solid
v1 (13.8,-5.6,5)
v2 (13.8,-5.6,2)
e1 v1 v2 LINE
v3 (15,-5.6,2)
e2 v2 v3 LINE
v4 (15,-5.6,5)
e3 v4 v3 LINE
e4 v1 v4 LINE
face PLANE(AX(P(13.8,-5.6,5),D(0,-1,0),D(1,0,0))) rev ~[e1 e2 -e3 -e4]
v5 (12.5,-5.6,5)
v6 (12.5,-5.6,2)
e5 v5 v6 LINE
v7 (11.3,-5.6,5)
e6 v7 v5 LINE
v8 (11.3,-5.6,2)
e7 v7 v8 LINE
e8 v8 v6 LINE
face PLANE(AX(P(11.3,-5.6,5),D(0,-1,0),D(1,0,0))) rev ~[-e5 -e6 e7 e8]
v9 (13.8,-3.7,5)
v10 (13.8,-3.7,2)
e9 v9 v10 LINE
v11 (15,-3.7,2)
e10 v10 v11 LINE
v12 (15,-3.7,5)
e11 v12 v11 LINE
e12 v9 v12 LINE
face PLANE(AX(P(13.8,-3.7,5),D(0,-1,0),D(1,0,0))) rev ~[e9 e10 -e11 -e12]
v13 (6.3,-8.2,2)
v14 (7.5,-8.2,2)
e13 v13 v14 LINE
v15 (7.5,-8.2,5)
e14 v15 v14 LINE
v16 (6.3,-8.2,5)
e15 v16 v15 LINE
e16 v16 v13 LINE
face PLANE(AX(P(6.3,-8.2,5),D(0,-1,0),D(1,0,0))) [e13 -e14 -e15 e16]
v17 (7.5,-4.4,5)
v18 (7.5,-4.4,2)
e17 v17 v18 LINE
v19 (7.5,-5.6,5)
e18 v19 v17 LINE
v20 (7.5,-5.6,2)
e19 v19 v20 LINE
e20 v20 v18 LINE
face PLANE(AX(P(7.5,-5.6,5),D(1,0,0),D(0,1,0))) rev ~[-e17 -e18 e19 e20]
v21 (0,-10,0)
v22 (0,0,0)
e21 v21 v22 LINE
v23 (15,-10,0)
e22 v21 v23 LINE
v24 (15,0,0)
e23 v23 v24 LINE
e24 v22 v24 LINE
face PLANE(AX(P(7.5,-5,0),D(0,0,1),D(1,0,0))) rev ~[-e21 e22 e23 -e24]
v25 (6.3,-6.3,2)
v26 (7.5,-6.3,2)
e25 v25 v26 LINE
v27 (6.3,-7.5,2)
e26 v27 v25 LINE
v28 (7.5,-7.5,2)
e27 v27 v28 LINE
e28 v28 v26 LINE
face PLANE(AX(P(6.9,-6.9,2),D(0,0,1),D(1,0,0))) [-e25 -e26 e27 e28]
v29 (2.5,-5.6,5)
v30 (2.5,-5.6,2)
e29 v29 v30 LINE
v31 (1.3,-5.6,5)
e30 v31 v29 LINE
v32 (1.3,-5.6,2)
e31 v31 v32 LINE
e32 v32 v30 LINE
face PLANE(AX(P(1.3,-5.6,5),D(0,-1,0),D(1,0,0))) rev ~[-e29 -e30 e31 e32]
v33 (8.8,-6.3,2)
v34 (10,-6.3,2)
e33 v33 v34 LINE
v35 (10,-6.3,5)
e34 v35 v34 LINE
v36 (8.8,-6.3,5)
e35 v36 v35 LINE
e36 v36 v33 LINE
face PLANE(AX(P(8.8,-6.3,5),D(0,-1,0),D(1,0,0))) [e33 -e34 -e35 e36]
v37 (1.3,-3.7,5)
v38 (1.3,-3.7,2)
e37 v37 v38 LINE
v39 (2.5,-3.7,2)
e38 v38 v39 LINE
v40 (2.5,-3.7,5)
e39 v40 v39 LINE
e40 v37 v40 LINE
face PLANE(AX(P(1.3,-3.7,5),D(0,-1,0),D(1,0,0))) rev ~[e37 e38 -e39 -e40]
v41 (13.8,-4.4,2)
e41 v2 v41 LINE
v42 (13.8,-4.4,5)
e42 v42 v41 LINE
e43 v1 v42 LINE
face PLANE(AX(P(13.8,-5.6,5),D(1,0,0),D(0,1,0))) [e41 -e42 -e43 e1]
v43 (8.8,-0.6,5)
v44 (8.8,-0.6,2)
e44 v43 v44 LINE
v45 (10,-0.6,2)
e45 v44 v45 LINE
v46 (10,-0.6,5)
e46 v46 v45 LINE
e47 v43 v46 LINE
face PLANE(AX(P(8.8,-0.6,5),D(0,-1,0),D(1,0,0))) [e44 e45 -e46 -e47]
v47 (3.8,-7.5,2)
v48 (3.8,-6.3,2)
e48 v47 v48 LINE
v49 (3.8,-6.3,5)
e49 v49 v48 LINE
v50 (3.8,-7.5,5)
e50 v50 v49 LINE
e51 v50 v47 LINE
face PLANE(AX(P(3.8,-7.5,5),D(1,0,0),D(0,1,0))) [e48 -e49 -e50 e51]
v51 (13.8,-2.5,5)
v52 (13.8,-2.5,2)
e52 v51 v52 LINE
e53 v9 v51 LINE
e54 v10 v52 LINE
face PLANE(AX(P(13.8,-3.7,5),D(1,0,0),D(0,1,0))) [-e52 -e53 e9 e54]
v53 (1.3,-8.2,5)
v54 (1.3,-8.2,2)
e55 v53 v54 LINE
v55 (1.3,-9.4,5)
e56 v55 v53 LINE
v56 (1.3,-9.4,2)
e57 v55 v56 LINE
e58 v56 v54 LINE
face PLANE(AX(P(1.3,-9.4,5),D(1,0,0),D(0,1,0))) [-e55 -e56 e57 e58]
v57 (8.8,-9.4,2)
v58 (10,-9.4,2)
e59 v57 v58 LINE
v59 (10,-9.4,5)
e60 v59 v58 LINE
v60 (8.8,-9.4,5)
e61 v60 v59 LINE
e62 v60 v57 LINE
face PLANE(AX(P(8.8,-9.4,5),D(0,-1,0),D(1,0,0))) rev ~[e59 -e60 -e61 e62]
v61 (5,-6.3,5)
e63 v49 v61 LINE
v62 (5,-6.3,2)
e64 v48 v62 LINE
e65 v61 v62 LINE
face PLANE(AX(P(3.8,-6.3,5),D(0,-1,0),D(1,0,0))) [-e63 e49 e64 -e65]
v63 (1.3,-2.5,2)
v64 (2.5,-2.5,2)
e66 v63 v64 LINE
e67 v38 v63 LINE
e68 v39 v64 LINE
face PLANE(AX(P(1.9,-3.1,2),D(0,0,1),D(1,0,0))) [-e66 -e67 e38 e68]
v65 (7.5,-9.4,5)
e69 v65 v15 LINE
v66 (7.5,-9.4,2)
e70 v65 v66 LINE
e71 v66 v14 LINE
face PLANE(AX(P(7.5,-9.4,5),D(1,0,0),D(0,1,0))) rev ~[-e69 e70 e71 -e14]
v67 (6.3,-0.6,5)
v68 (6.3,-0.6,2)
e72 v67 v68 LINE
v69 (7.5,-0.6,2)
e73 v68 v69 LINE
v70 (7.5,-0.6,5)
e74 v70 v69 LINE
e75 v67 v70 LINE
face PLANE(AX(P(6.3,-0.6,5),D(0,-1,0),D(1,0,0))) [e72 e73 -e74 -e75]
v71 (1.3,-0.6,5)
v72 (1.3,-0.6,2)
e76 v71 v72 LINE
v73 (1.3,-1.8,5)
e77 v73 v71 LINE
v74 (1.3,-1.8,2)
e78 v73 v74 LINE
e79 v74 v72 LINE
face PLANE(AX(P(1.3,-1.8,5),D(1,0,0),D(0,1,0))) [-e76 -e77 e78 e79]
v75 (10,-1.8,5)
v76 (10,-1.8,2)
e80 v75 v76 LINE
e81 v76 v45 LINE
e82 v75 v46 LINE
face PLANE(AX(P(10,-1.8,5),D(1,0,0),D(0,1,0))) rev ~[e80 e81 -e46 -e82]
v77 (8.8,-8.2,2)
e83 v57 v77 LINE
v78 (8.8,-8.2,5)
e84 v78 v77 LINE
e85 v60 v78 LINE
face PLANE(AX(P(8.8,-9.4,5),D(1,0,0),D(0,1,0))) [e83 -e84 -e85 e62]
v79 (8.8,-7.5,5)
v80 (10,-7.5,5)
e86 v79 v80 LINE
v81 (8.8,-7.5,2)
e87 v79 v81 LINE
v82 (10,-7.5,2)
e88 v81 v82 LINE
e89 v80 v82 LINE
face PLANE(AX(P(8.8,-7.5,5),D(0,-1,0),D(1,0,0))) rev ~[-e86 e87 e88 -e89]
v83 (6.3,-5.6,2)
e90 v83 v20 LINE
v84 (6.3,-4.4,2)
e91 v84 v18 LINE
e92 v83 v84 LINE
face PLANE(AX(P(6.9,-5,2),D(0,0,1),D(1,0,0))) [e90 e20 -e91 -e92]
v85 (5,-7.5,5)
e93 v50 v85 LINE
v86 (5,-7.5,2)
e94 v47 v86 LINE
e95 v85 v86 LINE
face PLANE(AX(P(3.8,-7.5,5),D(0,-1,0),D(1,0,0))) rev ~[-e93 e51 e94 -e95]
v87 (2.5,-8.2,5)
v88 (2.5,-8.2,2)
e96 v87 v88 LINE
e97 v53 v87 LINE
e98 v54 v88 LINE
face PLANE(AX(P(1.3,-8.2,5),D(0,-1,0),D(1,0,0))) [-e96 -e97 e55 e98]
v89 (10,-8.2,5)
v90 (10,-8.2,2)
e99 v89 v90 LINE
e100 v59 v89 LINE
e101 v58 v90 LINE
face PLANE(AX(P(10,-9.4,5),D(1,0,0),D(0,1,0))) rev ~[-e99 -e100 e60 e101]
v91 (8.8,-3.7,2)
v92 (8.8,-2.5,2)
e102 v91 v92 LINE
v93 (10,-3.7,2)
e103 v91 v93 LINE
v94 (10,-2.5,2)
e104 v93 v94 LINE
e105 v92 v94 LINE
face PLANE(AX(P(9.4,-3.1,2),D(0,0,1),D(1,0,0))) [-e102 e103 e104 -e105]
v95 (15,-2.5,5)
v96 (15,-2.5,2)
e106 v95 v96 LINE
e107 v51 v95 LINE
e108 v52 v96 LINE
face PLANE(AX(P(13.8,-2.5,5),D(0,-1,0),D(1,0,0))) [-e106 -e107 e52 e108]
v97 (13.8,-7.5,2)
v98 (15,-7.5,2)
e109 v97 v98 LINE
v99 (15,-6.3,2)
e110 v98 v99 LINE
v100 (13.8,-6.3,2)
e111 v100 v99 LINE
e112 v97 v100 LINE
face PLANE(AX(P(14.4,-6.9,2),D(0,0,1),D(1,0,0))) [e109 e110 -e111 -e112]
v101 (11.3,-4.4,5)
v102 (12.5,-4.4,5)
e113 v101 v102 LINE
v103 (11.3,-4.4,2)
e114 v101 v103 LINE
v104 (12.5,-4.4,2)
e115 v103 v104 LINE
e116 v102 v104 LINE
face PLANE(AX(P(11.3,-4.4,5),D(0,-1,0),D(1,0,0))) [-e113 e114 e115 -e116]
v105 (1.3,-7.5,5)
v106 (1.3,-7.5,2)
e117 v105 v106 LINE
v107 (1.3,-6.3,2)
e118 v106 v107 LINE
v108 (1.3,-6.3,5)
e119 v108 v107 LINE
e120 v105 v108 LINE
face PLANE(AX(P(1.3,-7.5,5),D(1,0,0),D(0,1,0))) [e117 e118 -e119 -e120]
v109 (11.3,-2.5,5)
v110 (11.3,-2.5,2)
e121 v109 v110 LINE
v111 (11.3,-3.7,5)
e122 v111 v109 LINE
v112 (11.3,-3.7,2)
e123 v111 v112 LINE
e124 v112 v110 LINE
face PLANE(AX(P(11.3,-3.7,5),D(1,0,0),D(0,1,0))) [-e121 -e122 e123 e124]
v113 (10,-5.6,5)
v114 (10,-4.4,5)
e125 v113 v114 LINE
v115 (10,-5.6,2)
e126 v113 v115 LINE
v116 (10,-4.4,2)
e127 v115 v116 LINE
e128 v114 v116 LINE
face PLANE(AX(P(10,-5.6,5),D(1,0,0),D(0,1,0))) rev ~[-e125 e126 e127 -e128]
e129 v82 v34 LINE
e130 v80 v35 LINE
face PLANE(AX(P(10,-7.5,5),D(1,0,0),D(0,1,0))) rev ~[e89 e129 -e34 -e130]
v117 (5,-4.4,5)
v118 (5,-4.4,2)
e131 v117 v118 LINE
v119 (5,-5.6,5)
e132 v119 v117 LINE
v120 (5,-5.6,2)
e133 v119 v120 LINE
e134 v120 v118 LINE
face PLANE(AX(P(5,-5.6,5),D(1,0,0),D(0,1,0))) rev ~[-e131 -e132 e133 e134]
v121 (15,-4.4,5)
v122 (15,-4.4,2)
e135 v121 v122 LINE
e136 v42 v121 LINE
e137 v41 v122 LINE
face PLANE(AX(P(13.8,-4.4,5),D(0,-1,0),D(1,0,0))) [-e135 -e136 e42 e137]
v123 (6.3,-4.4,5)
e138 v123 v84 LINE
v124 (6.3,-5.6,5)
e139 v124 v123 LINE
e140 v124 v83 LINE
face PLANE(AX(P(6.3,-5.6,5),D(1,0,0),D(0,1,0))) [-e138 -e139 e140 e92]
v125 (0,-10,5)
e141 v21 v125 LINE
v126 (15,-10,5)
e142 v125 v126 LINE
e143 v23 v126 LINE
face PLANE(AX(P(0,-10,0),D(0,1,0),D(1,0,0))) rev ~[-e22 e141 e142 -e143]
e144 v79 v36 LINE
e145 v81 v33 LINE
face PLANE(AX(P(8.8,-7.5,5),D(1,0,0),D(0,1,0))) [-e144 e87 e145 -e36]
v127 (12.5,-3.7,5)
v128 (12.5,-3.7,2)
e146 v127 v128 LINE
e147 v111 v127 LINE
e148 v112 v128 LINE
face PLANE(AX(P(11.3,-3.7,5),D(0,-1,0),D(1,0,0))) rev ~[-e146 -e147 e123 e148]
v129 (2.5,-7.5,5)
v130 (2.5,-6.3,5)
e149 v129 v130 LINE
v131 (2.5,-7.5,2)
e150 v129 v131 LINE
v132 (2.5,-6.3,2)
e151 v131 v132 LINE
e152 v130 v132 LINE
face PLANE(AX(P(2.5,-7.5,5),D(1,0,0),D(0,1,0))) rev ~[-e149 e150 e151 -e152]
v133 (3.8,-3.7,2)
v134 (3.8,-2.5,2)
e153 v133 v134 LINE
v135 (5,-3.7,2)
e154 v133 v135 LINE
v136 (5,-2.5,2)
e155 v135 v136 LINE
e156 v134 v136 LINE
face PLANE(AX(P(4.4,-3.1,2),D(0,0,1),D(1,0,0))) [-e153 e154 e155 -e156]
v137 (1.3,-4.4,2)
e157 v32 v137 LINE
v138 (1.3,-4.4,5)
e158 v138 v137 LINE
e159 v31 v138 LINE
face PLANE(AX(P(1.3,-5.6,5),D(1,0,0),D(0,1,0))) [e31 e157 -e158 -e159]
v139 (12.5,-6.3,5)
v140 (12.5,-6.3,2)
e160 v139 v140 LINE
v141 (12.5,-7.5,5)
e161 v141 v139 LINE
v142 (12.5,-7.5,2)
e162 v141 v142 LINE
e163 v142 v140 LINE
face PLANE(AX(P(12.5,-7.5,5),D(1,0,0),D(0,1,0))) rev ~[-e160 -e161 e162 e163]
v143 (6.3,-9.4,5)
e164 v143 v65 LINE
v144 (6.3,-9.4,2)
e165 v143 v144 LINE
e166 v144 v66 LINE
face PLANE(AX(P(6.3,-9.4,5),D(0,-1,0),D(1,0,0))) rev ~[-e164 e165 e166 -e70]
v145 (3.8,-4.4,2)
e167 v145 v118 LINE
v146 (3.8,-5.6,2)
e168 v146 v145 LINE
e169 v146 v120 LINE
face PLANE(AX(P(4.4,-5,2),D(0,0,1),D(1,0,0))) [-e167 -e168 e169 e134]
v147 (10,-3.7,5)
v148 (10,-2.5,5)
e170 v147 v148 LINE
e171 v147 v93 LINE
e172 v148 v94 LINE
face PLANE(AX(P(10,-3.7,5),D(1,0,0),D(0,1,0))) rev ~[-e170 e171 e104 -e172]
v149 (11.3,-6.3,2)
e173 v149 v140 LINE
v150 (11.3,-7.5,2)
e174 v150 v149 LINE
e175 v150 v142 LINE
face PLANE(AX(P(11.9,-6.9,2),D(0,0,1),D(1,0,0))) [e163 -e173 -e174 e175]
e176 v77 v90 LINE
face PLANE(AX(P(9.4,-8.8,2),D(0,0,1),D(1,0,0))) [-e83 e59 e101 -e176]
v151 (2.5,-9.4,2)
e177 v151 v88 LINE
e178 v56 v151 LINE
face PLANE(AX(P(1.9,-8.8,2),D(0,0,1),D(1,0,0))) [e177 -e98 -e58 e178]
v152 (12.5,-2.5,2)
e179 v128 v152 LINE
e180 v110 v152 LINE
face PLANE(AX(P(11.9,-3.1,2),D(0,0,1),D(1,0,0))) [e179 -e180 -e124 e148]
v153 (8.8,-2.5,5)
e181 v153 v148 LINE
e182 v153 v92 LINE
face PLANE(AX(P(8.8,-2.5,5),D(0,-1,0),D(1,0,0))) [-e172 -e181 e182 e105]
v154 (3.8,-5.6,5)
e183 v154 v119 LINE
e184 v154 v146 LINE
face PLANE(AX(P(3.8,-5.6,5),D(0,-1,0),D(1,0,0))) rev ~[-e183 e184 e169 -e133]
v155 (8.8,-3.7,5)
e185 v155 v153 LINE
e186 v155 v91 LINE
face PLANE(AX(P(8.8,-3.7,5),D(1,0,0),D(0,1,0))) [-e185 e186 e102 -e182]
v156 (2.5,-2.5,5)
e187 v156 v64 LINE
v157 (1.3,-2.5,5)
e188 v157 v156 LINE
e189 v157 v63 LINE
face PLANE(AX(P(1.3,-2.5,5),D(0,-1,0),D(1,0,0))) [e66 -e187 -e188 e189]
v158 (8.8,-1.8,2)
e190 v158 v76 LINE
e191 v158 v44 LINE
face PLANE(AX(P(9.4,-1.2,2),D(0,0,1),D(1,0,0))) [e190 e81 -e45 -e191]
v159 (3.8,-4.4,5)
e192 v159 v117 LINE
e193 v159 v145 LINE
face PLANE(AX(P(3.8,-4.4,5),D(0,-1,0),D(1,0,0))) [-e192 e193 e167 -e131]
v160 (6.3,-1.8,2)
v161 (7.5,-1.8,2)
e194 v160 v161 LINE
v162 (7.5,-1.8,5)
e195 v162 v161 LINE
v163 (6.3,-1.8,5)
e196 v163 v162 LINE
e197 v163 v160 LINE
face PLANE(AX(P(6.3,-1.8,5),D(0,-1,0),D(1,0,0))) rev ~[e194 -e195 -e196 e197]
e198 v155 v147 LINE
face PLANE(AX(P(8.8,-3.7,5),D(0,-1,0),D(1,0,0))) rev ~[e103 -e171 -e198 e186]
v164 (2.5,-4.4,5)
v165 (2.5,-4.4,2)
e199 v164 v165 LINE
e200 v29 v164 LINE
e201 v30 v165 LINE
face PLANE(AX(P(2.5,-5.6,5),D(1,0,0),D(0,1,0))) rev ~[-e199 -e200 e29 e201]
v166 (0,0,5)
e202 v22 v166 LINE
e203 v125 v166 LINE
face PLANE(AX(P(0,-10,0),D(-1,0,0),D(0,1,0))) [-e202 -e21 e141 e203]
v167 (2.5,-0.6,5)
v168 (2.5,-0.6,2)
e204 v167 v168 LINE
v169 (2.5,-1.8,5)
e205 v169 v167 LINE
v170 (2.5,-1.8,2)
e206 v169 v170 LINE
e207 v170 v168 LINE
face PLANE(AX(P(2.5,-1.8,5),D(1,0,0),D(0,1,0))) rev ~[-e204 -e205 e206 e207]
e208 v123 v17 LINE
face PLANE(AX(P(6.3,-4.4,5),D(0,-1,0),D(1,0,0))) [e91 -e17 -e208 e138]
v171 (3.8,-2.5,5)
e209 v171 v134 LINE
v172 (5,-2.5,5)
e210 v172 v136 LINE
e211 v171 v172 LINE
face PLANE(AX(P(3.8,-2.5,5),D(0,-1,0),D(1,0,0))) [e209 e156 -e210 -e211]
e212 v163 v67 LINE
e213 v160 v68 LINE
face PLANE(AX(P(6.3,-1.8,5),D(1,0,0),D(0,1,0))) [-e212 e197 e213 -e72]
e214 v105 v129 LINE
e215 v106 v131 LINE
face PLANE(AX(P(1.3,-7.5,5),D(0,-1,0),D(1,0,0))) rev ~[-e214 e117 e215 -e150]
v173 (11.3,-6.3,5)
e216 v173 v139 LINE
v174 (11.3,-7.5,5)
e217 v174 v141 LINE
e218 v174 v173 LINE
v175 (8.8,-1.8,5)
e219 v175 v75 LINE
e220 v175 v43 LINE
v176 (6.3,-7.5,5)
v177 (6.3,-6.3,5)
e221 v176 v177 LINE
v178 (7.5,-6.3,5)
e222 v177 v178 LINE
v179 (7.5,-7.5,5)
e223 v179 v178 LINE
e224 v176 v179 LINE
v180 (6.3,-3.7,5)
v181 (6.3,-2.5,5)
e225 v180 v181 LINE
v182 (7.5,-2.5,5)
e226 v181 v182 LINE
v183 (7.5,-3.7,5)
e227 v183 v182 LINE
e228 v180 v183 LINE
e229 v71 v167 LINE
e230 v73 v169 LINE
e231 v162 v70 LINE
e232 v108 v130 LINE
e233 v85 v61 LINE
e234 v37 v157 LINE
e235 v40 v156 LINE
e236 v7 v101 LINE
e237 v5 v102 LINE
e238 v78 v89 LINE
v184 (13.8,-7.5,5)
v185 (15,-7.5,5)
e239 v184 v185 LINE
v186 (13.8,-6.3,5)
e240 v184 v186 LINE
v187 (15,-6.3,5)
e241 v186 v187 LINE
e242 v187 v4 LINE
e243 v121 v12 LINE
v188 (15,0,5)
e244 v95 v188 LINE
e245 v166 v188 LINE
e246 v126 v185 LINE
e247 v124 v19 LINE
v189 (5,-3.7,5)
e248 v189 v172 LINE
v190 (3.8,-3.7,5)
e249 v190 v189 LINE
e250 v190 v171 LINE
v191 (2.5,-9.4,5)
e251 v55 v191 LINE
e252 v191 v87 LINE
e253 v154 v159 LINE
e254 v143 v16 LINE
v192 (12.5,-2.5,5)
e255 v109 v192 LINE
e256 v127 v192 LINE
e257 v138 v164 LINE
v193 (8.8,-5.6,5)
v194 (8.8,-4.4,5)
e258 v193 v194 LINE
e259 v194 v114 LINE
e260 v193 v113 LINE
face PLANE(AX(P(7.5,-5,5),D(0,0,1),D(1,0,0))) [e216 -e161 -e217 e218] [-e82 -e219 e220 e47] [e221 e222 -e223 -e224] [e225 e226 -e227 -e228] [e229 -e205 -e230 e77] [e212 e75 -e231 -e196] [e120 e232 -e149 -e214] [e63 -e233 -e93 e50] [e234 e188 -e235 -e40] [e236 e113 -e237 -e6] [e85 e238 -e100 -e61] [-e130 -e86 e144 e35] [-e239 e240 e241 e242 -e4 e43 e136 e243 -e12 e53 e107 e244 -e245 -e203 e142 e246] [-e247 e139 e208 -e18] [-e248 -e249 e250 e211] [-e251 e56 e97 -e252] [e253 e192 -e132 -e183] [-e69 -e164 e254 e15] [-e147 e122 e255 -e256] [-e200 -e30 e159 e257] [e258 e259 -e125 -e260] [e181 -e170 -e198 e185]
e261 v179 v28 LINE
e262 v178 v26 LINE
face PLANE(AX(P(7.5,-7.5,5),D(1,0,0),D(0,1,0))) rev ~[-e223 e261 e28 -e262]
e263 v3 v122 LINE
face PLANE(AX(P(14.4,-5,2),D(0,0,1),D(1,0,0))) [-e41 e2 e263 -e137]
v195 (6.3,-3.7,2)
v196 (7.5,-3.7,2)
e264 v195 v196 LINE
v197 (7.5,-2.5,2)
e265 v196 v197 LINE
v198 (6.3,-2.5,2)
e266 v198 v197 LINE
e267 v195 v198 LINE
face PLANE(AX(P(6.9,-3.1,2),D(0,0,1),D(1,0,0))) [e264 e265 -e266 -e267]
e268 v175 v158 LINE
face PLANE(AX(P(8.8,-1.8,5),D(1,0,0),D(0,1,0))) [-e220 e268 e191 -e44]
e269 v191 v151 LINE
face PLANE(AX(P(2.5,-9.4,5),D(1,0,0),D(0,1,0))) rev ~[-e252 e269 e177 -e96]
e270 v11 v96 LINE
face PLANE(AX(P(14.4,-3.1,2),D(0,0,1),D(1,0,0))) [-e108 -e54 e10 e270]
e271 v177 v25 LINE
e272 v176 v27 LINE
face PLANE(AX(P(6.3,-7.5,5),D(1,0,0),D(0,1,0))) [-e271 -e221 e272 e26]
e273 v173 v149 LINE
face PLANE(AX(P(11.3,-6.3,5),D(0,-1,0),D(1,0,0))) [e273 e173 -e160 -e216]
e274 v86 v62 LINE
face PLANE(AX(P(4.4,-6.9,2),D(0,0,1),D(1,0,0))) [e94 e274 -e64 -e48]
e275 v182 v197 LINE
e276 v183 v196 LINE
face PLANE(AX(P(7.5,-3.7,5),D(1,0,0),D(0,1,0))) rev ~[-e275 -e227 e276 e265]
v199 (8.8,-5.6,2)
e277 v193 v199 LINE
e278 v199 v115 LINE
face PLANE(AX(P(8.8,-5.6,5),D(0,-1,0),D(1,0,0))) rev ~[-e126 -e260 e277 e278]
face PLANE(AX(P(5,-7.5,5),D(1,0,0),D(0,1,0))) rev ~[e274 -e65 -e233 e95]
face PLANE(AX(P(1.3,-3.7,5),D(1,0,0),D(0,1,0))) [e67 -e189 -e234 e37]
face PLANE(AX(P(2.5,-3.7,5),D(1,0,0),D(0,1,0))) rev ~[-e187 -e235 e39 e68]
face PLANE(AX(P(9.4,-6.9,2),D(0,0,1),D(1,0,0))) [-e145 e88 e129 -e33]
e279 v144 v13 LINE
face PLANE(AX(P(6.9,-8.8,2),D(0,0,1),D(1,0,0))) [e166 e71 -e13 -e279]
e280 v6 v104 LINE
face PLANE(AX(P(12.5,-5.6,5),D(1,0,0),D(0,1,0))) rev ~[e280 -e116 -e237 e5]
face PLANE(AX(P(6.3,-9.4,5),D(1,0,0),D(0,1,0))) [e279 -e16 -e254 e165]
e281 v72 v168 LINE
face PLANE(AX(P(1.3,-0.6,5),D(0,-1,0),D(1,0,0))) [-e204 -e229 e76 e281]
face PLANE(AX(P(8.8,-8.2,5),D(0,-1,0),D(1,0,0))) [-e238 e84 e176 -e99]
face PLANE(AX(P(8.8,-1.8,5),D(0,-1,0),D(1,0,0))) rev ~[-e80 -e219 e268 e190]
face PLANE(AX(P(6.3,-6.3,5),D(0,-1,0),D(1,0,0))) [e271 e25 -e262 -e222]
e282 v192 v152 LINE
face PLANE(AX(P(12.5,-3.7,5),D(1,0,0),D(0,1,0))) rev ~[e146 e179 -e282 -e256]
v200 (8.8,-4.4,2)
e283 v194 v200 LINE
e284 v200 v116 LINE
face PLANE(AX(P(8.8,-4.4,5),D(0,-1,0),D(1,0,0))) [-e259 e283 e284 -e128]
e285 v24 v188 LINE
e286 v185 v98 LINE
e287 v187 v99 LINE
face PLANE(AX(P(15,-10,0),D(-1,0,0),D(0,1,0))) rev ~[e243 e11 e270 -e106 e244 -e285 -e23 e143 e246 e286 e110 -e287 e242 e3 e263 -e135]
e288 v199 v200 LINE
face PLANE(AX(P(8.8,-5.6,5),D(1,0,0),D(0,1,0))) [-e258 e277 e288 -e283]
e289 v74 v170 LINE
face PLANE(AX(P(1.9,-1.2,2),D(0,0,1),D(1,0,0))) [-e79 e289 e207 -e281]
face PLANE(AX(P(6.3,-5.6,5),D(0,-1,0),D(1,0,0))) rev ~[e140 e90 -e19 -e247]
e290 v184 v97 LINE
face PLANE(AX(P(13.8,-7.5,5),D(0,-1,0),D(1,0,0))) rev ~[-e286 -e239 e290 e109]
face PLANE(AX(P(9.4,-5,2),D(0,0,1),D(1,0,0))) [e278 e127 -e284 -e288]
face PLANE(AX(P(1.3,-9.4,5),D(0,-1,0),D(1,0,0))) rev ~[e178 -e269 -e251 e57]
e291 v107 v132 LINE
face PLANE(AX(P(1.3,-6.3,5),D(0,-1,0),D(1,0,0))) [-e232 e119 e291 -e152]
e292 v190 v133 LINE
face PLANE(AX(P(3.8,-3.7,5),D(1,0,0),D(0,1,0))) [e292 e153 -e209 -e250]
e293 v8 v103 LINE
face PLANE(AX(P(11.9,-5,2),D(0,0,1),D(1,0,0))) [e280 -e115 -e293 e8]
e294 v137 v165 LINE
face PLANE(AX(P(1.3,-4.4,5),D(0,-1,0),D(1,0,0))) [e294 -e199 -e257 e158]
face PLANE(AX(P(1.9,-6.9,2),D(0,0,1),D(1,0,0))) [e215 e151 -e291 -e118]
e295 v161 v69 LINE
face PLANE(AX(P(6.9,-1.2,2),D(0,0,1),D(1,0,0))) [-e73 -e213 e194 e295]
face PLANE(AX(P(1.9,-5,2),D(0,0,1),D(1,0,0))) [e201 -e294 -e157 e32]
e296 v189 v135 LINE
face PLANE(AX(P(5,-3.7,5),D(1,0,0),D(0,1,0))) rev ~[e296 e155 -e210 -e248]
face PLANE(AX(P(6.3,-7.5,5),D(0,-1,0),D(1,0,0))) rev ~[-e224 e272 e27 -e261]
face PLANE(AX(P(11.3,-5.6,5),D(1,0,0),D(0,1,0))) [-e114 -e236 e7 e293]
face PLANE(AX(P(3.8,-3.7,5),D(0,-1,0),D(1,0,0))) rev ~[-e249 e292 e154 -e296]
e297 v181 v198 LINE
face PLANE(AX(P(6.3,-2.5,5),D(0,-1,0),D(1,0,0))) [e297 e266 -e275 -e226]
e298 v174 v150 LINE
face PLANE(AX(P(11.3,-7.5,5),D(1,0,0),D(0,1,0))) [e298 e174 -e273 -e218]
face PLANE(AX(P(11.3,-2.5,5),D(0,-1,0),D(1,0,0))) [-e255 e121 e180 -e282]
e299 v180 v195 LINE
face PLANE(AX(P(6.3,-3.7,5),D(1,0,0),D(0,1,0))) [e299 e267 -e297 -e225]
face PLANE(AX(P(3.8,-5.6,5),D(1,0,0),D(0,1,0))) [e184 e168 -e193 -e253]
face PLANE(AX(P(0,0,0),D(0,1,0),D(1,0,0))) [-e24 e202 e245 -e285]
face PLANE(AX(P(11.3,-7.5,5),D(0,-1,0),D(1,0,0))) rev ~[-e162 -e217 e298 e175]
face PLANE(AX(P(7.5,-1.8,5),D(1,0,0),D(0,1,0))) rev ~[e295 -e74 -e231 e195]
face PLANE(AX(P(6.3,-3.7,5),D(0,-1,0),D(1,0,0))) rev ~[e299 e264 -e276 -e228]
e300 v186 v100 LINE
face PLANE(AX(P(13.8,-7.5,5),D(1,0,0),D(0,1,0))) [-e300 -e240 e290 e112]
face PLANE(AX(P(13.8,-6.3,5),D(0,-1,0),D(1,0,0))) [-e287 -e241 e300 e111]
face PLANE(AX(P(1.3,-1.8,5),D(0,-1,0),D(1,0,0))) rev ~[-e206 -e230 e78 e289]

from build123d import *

# Parameters (mm, degrees)
SKETCH_1_W          = 15
SKETCH_1_H          = 10
EXTRUDE_1_DEPTH     = 5
SKETCH_2_W          = 1.2
SKETCH_2_H          = 1.2
CUT_EXTRUDE_1_DEPTH = 3


with BuildPart() as part:
    # 草图1 → 凸台-拉伸1 (new body)
    with BuildSketch(Plane.XY):
        with Locations((7.5, -5)):
            Rectangle(SKETCH_1_W, SKETCH_1_H)
    extrude(amount=EXTRUDE_1_DEPTH)

    # 草图2 → 切除-拉伸1 (cut)
    with BuildSketch(Plane.XY.offset(5)):
        with Locations((1.9, -1.2)):
            Rectangle(SKETCH_2_W, SKETCH_2_H)
        with Locations((1.9, -3.1)):
            Rectangle(SKETCH_2_W, SKETCH_2_H)
        with Locations((1.9, -5)):
            Rectangle(SKETCH_2_W, SKETCH_2_H)
        with Locations((1.9, -6.9)):
            Rectangle(SKETCH_2_W, SKETCH_2_H)
        with Locations((1.9, -8.8)):
            Rectangle(SKETCH_2_W, SKETCH_2_H)
        with Locations((4.4, -3.1)):
            Rectangle(SKETCH_2_W, SKETCH_2_H)
        with Locations((6.9, -3.1)):
            Rectangle(SKETCH_2_W, SKETCH_2_H)
        with Locations((11.9, -3.1)):
            Rectangle(SKETCH_2_W, SKETCH_2_H)
        with Locations((9.4, -3.1)):
            Rectangle(SKETCH_2_W, SKETCH_2_H)
        with Locations((14.4, -3.1)):
            Rectangle(SKETCH_2_W, SKETCH_2_H)
        with Locations((4.4, -5)):
            Rectangle(SKETCH_2_W, SKETCH_2_H)
        with Locations((6.9, -5)):
            Rectangle(SKETCH_2_W, SKETCH_2_H)
        with Locations((9.4, -5)):
            Rectangle(SKETCH_2_W, SKETCH_2_H)
        with Locations((11.9, -5)):
            Rectangle(SKETCH_2_W, SKETCH_2_H)
        with Locations((14.4, -5)):
            Rectangle(SKETCH_2_W, SKETCH_2_H)
        with Locations((4.4, -6.9)):
            Rectangle(SKETCH_2_W, SKETCH_2_H)
        with Locations((6.9, -6.9)):
            Rectangle(SKETCH_2_W, SKETCH_2_H)
        with Locations((9.4, -6.9)):
            Rectangle(SKETCH_2_W, SKETCH_2_H)
        with Locations((11.9, -6.9)):
            Rectangle(SKETCH_2_W, SKETCH_2_H)
        with Locations((14.4, -6.9)):
            Rectangle(SKETCH_2_W, SKETCH_2_H)
        with Locations((6.9, -8.8)):
            Rectangle(SKETCH_2_W, SKETCH_2_H)
        with Locations((9.4, -8.8)):
            Rectangle(SKETCH_2_W, SKETCH_2_H)
        with Locations((6.9, -1.2)):
            Rectangle(SKETCH_2_W, SKETCH_2_H)
        with Locations((9.4, -1.2)):
            Rectangle(SKETCH_2_W, SKETCH_2_H)
    extrude(amount=-CUT_EXTRUDE_1_DEPTH, mode=Mode.SUBTRACT)


solid = part.part
